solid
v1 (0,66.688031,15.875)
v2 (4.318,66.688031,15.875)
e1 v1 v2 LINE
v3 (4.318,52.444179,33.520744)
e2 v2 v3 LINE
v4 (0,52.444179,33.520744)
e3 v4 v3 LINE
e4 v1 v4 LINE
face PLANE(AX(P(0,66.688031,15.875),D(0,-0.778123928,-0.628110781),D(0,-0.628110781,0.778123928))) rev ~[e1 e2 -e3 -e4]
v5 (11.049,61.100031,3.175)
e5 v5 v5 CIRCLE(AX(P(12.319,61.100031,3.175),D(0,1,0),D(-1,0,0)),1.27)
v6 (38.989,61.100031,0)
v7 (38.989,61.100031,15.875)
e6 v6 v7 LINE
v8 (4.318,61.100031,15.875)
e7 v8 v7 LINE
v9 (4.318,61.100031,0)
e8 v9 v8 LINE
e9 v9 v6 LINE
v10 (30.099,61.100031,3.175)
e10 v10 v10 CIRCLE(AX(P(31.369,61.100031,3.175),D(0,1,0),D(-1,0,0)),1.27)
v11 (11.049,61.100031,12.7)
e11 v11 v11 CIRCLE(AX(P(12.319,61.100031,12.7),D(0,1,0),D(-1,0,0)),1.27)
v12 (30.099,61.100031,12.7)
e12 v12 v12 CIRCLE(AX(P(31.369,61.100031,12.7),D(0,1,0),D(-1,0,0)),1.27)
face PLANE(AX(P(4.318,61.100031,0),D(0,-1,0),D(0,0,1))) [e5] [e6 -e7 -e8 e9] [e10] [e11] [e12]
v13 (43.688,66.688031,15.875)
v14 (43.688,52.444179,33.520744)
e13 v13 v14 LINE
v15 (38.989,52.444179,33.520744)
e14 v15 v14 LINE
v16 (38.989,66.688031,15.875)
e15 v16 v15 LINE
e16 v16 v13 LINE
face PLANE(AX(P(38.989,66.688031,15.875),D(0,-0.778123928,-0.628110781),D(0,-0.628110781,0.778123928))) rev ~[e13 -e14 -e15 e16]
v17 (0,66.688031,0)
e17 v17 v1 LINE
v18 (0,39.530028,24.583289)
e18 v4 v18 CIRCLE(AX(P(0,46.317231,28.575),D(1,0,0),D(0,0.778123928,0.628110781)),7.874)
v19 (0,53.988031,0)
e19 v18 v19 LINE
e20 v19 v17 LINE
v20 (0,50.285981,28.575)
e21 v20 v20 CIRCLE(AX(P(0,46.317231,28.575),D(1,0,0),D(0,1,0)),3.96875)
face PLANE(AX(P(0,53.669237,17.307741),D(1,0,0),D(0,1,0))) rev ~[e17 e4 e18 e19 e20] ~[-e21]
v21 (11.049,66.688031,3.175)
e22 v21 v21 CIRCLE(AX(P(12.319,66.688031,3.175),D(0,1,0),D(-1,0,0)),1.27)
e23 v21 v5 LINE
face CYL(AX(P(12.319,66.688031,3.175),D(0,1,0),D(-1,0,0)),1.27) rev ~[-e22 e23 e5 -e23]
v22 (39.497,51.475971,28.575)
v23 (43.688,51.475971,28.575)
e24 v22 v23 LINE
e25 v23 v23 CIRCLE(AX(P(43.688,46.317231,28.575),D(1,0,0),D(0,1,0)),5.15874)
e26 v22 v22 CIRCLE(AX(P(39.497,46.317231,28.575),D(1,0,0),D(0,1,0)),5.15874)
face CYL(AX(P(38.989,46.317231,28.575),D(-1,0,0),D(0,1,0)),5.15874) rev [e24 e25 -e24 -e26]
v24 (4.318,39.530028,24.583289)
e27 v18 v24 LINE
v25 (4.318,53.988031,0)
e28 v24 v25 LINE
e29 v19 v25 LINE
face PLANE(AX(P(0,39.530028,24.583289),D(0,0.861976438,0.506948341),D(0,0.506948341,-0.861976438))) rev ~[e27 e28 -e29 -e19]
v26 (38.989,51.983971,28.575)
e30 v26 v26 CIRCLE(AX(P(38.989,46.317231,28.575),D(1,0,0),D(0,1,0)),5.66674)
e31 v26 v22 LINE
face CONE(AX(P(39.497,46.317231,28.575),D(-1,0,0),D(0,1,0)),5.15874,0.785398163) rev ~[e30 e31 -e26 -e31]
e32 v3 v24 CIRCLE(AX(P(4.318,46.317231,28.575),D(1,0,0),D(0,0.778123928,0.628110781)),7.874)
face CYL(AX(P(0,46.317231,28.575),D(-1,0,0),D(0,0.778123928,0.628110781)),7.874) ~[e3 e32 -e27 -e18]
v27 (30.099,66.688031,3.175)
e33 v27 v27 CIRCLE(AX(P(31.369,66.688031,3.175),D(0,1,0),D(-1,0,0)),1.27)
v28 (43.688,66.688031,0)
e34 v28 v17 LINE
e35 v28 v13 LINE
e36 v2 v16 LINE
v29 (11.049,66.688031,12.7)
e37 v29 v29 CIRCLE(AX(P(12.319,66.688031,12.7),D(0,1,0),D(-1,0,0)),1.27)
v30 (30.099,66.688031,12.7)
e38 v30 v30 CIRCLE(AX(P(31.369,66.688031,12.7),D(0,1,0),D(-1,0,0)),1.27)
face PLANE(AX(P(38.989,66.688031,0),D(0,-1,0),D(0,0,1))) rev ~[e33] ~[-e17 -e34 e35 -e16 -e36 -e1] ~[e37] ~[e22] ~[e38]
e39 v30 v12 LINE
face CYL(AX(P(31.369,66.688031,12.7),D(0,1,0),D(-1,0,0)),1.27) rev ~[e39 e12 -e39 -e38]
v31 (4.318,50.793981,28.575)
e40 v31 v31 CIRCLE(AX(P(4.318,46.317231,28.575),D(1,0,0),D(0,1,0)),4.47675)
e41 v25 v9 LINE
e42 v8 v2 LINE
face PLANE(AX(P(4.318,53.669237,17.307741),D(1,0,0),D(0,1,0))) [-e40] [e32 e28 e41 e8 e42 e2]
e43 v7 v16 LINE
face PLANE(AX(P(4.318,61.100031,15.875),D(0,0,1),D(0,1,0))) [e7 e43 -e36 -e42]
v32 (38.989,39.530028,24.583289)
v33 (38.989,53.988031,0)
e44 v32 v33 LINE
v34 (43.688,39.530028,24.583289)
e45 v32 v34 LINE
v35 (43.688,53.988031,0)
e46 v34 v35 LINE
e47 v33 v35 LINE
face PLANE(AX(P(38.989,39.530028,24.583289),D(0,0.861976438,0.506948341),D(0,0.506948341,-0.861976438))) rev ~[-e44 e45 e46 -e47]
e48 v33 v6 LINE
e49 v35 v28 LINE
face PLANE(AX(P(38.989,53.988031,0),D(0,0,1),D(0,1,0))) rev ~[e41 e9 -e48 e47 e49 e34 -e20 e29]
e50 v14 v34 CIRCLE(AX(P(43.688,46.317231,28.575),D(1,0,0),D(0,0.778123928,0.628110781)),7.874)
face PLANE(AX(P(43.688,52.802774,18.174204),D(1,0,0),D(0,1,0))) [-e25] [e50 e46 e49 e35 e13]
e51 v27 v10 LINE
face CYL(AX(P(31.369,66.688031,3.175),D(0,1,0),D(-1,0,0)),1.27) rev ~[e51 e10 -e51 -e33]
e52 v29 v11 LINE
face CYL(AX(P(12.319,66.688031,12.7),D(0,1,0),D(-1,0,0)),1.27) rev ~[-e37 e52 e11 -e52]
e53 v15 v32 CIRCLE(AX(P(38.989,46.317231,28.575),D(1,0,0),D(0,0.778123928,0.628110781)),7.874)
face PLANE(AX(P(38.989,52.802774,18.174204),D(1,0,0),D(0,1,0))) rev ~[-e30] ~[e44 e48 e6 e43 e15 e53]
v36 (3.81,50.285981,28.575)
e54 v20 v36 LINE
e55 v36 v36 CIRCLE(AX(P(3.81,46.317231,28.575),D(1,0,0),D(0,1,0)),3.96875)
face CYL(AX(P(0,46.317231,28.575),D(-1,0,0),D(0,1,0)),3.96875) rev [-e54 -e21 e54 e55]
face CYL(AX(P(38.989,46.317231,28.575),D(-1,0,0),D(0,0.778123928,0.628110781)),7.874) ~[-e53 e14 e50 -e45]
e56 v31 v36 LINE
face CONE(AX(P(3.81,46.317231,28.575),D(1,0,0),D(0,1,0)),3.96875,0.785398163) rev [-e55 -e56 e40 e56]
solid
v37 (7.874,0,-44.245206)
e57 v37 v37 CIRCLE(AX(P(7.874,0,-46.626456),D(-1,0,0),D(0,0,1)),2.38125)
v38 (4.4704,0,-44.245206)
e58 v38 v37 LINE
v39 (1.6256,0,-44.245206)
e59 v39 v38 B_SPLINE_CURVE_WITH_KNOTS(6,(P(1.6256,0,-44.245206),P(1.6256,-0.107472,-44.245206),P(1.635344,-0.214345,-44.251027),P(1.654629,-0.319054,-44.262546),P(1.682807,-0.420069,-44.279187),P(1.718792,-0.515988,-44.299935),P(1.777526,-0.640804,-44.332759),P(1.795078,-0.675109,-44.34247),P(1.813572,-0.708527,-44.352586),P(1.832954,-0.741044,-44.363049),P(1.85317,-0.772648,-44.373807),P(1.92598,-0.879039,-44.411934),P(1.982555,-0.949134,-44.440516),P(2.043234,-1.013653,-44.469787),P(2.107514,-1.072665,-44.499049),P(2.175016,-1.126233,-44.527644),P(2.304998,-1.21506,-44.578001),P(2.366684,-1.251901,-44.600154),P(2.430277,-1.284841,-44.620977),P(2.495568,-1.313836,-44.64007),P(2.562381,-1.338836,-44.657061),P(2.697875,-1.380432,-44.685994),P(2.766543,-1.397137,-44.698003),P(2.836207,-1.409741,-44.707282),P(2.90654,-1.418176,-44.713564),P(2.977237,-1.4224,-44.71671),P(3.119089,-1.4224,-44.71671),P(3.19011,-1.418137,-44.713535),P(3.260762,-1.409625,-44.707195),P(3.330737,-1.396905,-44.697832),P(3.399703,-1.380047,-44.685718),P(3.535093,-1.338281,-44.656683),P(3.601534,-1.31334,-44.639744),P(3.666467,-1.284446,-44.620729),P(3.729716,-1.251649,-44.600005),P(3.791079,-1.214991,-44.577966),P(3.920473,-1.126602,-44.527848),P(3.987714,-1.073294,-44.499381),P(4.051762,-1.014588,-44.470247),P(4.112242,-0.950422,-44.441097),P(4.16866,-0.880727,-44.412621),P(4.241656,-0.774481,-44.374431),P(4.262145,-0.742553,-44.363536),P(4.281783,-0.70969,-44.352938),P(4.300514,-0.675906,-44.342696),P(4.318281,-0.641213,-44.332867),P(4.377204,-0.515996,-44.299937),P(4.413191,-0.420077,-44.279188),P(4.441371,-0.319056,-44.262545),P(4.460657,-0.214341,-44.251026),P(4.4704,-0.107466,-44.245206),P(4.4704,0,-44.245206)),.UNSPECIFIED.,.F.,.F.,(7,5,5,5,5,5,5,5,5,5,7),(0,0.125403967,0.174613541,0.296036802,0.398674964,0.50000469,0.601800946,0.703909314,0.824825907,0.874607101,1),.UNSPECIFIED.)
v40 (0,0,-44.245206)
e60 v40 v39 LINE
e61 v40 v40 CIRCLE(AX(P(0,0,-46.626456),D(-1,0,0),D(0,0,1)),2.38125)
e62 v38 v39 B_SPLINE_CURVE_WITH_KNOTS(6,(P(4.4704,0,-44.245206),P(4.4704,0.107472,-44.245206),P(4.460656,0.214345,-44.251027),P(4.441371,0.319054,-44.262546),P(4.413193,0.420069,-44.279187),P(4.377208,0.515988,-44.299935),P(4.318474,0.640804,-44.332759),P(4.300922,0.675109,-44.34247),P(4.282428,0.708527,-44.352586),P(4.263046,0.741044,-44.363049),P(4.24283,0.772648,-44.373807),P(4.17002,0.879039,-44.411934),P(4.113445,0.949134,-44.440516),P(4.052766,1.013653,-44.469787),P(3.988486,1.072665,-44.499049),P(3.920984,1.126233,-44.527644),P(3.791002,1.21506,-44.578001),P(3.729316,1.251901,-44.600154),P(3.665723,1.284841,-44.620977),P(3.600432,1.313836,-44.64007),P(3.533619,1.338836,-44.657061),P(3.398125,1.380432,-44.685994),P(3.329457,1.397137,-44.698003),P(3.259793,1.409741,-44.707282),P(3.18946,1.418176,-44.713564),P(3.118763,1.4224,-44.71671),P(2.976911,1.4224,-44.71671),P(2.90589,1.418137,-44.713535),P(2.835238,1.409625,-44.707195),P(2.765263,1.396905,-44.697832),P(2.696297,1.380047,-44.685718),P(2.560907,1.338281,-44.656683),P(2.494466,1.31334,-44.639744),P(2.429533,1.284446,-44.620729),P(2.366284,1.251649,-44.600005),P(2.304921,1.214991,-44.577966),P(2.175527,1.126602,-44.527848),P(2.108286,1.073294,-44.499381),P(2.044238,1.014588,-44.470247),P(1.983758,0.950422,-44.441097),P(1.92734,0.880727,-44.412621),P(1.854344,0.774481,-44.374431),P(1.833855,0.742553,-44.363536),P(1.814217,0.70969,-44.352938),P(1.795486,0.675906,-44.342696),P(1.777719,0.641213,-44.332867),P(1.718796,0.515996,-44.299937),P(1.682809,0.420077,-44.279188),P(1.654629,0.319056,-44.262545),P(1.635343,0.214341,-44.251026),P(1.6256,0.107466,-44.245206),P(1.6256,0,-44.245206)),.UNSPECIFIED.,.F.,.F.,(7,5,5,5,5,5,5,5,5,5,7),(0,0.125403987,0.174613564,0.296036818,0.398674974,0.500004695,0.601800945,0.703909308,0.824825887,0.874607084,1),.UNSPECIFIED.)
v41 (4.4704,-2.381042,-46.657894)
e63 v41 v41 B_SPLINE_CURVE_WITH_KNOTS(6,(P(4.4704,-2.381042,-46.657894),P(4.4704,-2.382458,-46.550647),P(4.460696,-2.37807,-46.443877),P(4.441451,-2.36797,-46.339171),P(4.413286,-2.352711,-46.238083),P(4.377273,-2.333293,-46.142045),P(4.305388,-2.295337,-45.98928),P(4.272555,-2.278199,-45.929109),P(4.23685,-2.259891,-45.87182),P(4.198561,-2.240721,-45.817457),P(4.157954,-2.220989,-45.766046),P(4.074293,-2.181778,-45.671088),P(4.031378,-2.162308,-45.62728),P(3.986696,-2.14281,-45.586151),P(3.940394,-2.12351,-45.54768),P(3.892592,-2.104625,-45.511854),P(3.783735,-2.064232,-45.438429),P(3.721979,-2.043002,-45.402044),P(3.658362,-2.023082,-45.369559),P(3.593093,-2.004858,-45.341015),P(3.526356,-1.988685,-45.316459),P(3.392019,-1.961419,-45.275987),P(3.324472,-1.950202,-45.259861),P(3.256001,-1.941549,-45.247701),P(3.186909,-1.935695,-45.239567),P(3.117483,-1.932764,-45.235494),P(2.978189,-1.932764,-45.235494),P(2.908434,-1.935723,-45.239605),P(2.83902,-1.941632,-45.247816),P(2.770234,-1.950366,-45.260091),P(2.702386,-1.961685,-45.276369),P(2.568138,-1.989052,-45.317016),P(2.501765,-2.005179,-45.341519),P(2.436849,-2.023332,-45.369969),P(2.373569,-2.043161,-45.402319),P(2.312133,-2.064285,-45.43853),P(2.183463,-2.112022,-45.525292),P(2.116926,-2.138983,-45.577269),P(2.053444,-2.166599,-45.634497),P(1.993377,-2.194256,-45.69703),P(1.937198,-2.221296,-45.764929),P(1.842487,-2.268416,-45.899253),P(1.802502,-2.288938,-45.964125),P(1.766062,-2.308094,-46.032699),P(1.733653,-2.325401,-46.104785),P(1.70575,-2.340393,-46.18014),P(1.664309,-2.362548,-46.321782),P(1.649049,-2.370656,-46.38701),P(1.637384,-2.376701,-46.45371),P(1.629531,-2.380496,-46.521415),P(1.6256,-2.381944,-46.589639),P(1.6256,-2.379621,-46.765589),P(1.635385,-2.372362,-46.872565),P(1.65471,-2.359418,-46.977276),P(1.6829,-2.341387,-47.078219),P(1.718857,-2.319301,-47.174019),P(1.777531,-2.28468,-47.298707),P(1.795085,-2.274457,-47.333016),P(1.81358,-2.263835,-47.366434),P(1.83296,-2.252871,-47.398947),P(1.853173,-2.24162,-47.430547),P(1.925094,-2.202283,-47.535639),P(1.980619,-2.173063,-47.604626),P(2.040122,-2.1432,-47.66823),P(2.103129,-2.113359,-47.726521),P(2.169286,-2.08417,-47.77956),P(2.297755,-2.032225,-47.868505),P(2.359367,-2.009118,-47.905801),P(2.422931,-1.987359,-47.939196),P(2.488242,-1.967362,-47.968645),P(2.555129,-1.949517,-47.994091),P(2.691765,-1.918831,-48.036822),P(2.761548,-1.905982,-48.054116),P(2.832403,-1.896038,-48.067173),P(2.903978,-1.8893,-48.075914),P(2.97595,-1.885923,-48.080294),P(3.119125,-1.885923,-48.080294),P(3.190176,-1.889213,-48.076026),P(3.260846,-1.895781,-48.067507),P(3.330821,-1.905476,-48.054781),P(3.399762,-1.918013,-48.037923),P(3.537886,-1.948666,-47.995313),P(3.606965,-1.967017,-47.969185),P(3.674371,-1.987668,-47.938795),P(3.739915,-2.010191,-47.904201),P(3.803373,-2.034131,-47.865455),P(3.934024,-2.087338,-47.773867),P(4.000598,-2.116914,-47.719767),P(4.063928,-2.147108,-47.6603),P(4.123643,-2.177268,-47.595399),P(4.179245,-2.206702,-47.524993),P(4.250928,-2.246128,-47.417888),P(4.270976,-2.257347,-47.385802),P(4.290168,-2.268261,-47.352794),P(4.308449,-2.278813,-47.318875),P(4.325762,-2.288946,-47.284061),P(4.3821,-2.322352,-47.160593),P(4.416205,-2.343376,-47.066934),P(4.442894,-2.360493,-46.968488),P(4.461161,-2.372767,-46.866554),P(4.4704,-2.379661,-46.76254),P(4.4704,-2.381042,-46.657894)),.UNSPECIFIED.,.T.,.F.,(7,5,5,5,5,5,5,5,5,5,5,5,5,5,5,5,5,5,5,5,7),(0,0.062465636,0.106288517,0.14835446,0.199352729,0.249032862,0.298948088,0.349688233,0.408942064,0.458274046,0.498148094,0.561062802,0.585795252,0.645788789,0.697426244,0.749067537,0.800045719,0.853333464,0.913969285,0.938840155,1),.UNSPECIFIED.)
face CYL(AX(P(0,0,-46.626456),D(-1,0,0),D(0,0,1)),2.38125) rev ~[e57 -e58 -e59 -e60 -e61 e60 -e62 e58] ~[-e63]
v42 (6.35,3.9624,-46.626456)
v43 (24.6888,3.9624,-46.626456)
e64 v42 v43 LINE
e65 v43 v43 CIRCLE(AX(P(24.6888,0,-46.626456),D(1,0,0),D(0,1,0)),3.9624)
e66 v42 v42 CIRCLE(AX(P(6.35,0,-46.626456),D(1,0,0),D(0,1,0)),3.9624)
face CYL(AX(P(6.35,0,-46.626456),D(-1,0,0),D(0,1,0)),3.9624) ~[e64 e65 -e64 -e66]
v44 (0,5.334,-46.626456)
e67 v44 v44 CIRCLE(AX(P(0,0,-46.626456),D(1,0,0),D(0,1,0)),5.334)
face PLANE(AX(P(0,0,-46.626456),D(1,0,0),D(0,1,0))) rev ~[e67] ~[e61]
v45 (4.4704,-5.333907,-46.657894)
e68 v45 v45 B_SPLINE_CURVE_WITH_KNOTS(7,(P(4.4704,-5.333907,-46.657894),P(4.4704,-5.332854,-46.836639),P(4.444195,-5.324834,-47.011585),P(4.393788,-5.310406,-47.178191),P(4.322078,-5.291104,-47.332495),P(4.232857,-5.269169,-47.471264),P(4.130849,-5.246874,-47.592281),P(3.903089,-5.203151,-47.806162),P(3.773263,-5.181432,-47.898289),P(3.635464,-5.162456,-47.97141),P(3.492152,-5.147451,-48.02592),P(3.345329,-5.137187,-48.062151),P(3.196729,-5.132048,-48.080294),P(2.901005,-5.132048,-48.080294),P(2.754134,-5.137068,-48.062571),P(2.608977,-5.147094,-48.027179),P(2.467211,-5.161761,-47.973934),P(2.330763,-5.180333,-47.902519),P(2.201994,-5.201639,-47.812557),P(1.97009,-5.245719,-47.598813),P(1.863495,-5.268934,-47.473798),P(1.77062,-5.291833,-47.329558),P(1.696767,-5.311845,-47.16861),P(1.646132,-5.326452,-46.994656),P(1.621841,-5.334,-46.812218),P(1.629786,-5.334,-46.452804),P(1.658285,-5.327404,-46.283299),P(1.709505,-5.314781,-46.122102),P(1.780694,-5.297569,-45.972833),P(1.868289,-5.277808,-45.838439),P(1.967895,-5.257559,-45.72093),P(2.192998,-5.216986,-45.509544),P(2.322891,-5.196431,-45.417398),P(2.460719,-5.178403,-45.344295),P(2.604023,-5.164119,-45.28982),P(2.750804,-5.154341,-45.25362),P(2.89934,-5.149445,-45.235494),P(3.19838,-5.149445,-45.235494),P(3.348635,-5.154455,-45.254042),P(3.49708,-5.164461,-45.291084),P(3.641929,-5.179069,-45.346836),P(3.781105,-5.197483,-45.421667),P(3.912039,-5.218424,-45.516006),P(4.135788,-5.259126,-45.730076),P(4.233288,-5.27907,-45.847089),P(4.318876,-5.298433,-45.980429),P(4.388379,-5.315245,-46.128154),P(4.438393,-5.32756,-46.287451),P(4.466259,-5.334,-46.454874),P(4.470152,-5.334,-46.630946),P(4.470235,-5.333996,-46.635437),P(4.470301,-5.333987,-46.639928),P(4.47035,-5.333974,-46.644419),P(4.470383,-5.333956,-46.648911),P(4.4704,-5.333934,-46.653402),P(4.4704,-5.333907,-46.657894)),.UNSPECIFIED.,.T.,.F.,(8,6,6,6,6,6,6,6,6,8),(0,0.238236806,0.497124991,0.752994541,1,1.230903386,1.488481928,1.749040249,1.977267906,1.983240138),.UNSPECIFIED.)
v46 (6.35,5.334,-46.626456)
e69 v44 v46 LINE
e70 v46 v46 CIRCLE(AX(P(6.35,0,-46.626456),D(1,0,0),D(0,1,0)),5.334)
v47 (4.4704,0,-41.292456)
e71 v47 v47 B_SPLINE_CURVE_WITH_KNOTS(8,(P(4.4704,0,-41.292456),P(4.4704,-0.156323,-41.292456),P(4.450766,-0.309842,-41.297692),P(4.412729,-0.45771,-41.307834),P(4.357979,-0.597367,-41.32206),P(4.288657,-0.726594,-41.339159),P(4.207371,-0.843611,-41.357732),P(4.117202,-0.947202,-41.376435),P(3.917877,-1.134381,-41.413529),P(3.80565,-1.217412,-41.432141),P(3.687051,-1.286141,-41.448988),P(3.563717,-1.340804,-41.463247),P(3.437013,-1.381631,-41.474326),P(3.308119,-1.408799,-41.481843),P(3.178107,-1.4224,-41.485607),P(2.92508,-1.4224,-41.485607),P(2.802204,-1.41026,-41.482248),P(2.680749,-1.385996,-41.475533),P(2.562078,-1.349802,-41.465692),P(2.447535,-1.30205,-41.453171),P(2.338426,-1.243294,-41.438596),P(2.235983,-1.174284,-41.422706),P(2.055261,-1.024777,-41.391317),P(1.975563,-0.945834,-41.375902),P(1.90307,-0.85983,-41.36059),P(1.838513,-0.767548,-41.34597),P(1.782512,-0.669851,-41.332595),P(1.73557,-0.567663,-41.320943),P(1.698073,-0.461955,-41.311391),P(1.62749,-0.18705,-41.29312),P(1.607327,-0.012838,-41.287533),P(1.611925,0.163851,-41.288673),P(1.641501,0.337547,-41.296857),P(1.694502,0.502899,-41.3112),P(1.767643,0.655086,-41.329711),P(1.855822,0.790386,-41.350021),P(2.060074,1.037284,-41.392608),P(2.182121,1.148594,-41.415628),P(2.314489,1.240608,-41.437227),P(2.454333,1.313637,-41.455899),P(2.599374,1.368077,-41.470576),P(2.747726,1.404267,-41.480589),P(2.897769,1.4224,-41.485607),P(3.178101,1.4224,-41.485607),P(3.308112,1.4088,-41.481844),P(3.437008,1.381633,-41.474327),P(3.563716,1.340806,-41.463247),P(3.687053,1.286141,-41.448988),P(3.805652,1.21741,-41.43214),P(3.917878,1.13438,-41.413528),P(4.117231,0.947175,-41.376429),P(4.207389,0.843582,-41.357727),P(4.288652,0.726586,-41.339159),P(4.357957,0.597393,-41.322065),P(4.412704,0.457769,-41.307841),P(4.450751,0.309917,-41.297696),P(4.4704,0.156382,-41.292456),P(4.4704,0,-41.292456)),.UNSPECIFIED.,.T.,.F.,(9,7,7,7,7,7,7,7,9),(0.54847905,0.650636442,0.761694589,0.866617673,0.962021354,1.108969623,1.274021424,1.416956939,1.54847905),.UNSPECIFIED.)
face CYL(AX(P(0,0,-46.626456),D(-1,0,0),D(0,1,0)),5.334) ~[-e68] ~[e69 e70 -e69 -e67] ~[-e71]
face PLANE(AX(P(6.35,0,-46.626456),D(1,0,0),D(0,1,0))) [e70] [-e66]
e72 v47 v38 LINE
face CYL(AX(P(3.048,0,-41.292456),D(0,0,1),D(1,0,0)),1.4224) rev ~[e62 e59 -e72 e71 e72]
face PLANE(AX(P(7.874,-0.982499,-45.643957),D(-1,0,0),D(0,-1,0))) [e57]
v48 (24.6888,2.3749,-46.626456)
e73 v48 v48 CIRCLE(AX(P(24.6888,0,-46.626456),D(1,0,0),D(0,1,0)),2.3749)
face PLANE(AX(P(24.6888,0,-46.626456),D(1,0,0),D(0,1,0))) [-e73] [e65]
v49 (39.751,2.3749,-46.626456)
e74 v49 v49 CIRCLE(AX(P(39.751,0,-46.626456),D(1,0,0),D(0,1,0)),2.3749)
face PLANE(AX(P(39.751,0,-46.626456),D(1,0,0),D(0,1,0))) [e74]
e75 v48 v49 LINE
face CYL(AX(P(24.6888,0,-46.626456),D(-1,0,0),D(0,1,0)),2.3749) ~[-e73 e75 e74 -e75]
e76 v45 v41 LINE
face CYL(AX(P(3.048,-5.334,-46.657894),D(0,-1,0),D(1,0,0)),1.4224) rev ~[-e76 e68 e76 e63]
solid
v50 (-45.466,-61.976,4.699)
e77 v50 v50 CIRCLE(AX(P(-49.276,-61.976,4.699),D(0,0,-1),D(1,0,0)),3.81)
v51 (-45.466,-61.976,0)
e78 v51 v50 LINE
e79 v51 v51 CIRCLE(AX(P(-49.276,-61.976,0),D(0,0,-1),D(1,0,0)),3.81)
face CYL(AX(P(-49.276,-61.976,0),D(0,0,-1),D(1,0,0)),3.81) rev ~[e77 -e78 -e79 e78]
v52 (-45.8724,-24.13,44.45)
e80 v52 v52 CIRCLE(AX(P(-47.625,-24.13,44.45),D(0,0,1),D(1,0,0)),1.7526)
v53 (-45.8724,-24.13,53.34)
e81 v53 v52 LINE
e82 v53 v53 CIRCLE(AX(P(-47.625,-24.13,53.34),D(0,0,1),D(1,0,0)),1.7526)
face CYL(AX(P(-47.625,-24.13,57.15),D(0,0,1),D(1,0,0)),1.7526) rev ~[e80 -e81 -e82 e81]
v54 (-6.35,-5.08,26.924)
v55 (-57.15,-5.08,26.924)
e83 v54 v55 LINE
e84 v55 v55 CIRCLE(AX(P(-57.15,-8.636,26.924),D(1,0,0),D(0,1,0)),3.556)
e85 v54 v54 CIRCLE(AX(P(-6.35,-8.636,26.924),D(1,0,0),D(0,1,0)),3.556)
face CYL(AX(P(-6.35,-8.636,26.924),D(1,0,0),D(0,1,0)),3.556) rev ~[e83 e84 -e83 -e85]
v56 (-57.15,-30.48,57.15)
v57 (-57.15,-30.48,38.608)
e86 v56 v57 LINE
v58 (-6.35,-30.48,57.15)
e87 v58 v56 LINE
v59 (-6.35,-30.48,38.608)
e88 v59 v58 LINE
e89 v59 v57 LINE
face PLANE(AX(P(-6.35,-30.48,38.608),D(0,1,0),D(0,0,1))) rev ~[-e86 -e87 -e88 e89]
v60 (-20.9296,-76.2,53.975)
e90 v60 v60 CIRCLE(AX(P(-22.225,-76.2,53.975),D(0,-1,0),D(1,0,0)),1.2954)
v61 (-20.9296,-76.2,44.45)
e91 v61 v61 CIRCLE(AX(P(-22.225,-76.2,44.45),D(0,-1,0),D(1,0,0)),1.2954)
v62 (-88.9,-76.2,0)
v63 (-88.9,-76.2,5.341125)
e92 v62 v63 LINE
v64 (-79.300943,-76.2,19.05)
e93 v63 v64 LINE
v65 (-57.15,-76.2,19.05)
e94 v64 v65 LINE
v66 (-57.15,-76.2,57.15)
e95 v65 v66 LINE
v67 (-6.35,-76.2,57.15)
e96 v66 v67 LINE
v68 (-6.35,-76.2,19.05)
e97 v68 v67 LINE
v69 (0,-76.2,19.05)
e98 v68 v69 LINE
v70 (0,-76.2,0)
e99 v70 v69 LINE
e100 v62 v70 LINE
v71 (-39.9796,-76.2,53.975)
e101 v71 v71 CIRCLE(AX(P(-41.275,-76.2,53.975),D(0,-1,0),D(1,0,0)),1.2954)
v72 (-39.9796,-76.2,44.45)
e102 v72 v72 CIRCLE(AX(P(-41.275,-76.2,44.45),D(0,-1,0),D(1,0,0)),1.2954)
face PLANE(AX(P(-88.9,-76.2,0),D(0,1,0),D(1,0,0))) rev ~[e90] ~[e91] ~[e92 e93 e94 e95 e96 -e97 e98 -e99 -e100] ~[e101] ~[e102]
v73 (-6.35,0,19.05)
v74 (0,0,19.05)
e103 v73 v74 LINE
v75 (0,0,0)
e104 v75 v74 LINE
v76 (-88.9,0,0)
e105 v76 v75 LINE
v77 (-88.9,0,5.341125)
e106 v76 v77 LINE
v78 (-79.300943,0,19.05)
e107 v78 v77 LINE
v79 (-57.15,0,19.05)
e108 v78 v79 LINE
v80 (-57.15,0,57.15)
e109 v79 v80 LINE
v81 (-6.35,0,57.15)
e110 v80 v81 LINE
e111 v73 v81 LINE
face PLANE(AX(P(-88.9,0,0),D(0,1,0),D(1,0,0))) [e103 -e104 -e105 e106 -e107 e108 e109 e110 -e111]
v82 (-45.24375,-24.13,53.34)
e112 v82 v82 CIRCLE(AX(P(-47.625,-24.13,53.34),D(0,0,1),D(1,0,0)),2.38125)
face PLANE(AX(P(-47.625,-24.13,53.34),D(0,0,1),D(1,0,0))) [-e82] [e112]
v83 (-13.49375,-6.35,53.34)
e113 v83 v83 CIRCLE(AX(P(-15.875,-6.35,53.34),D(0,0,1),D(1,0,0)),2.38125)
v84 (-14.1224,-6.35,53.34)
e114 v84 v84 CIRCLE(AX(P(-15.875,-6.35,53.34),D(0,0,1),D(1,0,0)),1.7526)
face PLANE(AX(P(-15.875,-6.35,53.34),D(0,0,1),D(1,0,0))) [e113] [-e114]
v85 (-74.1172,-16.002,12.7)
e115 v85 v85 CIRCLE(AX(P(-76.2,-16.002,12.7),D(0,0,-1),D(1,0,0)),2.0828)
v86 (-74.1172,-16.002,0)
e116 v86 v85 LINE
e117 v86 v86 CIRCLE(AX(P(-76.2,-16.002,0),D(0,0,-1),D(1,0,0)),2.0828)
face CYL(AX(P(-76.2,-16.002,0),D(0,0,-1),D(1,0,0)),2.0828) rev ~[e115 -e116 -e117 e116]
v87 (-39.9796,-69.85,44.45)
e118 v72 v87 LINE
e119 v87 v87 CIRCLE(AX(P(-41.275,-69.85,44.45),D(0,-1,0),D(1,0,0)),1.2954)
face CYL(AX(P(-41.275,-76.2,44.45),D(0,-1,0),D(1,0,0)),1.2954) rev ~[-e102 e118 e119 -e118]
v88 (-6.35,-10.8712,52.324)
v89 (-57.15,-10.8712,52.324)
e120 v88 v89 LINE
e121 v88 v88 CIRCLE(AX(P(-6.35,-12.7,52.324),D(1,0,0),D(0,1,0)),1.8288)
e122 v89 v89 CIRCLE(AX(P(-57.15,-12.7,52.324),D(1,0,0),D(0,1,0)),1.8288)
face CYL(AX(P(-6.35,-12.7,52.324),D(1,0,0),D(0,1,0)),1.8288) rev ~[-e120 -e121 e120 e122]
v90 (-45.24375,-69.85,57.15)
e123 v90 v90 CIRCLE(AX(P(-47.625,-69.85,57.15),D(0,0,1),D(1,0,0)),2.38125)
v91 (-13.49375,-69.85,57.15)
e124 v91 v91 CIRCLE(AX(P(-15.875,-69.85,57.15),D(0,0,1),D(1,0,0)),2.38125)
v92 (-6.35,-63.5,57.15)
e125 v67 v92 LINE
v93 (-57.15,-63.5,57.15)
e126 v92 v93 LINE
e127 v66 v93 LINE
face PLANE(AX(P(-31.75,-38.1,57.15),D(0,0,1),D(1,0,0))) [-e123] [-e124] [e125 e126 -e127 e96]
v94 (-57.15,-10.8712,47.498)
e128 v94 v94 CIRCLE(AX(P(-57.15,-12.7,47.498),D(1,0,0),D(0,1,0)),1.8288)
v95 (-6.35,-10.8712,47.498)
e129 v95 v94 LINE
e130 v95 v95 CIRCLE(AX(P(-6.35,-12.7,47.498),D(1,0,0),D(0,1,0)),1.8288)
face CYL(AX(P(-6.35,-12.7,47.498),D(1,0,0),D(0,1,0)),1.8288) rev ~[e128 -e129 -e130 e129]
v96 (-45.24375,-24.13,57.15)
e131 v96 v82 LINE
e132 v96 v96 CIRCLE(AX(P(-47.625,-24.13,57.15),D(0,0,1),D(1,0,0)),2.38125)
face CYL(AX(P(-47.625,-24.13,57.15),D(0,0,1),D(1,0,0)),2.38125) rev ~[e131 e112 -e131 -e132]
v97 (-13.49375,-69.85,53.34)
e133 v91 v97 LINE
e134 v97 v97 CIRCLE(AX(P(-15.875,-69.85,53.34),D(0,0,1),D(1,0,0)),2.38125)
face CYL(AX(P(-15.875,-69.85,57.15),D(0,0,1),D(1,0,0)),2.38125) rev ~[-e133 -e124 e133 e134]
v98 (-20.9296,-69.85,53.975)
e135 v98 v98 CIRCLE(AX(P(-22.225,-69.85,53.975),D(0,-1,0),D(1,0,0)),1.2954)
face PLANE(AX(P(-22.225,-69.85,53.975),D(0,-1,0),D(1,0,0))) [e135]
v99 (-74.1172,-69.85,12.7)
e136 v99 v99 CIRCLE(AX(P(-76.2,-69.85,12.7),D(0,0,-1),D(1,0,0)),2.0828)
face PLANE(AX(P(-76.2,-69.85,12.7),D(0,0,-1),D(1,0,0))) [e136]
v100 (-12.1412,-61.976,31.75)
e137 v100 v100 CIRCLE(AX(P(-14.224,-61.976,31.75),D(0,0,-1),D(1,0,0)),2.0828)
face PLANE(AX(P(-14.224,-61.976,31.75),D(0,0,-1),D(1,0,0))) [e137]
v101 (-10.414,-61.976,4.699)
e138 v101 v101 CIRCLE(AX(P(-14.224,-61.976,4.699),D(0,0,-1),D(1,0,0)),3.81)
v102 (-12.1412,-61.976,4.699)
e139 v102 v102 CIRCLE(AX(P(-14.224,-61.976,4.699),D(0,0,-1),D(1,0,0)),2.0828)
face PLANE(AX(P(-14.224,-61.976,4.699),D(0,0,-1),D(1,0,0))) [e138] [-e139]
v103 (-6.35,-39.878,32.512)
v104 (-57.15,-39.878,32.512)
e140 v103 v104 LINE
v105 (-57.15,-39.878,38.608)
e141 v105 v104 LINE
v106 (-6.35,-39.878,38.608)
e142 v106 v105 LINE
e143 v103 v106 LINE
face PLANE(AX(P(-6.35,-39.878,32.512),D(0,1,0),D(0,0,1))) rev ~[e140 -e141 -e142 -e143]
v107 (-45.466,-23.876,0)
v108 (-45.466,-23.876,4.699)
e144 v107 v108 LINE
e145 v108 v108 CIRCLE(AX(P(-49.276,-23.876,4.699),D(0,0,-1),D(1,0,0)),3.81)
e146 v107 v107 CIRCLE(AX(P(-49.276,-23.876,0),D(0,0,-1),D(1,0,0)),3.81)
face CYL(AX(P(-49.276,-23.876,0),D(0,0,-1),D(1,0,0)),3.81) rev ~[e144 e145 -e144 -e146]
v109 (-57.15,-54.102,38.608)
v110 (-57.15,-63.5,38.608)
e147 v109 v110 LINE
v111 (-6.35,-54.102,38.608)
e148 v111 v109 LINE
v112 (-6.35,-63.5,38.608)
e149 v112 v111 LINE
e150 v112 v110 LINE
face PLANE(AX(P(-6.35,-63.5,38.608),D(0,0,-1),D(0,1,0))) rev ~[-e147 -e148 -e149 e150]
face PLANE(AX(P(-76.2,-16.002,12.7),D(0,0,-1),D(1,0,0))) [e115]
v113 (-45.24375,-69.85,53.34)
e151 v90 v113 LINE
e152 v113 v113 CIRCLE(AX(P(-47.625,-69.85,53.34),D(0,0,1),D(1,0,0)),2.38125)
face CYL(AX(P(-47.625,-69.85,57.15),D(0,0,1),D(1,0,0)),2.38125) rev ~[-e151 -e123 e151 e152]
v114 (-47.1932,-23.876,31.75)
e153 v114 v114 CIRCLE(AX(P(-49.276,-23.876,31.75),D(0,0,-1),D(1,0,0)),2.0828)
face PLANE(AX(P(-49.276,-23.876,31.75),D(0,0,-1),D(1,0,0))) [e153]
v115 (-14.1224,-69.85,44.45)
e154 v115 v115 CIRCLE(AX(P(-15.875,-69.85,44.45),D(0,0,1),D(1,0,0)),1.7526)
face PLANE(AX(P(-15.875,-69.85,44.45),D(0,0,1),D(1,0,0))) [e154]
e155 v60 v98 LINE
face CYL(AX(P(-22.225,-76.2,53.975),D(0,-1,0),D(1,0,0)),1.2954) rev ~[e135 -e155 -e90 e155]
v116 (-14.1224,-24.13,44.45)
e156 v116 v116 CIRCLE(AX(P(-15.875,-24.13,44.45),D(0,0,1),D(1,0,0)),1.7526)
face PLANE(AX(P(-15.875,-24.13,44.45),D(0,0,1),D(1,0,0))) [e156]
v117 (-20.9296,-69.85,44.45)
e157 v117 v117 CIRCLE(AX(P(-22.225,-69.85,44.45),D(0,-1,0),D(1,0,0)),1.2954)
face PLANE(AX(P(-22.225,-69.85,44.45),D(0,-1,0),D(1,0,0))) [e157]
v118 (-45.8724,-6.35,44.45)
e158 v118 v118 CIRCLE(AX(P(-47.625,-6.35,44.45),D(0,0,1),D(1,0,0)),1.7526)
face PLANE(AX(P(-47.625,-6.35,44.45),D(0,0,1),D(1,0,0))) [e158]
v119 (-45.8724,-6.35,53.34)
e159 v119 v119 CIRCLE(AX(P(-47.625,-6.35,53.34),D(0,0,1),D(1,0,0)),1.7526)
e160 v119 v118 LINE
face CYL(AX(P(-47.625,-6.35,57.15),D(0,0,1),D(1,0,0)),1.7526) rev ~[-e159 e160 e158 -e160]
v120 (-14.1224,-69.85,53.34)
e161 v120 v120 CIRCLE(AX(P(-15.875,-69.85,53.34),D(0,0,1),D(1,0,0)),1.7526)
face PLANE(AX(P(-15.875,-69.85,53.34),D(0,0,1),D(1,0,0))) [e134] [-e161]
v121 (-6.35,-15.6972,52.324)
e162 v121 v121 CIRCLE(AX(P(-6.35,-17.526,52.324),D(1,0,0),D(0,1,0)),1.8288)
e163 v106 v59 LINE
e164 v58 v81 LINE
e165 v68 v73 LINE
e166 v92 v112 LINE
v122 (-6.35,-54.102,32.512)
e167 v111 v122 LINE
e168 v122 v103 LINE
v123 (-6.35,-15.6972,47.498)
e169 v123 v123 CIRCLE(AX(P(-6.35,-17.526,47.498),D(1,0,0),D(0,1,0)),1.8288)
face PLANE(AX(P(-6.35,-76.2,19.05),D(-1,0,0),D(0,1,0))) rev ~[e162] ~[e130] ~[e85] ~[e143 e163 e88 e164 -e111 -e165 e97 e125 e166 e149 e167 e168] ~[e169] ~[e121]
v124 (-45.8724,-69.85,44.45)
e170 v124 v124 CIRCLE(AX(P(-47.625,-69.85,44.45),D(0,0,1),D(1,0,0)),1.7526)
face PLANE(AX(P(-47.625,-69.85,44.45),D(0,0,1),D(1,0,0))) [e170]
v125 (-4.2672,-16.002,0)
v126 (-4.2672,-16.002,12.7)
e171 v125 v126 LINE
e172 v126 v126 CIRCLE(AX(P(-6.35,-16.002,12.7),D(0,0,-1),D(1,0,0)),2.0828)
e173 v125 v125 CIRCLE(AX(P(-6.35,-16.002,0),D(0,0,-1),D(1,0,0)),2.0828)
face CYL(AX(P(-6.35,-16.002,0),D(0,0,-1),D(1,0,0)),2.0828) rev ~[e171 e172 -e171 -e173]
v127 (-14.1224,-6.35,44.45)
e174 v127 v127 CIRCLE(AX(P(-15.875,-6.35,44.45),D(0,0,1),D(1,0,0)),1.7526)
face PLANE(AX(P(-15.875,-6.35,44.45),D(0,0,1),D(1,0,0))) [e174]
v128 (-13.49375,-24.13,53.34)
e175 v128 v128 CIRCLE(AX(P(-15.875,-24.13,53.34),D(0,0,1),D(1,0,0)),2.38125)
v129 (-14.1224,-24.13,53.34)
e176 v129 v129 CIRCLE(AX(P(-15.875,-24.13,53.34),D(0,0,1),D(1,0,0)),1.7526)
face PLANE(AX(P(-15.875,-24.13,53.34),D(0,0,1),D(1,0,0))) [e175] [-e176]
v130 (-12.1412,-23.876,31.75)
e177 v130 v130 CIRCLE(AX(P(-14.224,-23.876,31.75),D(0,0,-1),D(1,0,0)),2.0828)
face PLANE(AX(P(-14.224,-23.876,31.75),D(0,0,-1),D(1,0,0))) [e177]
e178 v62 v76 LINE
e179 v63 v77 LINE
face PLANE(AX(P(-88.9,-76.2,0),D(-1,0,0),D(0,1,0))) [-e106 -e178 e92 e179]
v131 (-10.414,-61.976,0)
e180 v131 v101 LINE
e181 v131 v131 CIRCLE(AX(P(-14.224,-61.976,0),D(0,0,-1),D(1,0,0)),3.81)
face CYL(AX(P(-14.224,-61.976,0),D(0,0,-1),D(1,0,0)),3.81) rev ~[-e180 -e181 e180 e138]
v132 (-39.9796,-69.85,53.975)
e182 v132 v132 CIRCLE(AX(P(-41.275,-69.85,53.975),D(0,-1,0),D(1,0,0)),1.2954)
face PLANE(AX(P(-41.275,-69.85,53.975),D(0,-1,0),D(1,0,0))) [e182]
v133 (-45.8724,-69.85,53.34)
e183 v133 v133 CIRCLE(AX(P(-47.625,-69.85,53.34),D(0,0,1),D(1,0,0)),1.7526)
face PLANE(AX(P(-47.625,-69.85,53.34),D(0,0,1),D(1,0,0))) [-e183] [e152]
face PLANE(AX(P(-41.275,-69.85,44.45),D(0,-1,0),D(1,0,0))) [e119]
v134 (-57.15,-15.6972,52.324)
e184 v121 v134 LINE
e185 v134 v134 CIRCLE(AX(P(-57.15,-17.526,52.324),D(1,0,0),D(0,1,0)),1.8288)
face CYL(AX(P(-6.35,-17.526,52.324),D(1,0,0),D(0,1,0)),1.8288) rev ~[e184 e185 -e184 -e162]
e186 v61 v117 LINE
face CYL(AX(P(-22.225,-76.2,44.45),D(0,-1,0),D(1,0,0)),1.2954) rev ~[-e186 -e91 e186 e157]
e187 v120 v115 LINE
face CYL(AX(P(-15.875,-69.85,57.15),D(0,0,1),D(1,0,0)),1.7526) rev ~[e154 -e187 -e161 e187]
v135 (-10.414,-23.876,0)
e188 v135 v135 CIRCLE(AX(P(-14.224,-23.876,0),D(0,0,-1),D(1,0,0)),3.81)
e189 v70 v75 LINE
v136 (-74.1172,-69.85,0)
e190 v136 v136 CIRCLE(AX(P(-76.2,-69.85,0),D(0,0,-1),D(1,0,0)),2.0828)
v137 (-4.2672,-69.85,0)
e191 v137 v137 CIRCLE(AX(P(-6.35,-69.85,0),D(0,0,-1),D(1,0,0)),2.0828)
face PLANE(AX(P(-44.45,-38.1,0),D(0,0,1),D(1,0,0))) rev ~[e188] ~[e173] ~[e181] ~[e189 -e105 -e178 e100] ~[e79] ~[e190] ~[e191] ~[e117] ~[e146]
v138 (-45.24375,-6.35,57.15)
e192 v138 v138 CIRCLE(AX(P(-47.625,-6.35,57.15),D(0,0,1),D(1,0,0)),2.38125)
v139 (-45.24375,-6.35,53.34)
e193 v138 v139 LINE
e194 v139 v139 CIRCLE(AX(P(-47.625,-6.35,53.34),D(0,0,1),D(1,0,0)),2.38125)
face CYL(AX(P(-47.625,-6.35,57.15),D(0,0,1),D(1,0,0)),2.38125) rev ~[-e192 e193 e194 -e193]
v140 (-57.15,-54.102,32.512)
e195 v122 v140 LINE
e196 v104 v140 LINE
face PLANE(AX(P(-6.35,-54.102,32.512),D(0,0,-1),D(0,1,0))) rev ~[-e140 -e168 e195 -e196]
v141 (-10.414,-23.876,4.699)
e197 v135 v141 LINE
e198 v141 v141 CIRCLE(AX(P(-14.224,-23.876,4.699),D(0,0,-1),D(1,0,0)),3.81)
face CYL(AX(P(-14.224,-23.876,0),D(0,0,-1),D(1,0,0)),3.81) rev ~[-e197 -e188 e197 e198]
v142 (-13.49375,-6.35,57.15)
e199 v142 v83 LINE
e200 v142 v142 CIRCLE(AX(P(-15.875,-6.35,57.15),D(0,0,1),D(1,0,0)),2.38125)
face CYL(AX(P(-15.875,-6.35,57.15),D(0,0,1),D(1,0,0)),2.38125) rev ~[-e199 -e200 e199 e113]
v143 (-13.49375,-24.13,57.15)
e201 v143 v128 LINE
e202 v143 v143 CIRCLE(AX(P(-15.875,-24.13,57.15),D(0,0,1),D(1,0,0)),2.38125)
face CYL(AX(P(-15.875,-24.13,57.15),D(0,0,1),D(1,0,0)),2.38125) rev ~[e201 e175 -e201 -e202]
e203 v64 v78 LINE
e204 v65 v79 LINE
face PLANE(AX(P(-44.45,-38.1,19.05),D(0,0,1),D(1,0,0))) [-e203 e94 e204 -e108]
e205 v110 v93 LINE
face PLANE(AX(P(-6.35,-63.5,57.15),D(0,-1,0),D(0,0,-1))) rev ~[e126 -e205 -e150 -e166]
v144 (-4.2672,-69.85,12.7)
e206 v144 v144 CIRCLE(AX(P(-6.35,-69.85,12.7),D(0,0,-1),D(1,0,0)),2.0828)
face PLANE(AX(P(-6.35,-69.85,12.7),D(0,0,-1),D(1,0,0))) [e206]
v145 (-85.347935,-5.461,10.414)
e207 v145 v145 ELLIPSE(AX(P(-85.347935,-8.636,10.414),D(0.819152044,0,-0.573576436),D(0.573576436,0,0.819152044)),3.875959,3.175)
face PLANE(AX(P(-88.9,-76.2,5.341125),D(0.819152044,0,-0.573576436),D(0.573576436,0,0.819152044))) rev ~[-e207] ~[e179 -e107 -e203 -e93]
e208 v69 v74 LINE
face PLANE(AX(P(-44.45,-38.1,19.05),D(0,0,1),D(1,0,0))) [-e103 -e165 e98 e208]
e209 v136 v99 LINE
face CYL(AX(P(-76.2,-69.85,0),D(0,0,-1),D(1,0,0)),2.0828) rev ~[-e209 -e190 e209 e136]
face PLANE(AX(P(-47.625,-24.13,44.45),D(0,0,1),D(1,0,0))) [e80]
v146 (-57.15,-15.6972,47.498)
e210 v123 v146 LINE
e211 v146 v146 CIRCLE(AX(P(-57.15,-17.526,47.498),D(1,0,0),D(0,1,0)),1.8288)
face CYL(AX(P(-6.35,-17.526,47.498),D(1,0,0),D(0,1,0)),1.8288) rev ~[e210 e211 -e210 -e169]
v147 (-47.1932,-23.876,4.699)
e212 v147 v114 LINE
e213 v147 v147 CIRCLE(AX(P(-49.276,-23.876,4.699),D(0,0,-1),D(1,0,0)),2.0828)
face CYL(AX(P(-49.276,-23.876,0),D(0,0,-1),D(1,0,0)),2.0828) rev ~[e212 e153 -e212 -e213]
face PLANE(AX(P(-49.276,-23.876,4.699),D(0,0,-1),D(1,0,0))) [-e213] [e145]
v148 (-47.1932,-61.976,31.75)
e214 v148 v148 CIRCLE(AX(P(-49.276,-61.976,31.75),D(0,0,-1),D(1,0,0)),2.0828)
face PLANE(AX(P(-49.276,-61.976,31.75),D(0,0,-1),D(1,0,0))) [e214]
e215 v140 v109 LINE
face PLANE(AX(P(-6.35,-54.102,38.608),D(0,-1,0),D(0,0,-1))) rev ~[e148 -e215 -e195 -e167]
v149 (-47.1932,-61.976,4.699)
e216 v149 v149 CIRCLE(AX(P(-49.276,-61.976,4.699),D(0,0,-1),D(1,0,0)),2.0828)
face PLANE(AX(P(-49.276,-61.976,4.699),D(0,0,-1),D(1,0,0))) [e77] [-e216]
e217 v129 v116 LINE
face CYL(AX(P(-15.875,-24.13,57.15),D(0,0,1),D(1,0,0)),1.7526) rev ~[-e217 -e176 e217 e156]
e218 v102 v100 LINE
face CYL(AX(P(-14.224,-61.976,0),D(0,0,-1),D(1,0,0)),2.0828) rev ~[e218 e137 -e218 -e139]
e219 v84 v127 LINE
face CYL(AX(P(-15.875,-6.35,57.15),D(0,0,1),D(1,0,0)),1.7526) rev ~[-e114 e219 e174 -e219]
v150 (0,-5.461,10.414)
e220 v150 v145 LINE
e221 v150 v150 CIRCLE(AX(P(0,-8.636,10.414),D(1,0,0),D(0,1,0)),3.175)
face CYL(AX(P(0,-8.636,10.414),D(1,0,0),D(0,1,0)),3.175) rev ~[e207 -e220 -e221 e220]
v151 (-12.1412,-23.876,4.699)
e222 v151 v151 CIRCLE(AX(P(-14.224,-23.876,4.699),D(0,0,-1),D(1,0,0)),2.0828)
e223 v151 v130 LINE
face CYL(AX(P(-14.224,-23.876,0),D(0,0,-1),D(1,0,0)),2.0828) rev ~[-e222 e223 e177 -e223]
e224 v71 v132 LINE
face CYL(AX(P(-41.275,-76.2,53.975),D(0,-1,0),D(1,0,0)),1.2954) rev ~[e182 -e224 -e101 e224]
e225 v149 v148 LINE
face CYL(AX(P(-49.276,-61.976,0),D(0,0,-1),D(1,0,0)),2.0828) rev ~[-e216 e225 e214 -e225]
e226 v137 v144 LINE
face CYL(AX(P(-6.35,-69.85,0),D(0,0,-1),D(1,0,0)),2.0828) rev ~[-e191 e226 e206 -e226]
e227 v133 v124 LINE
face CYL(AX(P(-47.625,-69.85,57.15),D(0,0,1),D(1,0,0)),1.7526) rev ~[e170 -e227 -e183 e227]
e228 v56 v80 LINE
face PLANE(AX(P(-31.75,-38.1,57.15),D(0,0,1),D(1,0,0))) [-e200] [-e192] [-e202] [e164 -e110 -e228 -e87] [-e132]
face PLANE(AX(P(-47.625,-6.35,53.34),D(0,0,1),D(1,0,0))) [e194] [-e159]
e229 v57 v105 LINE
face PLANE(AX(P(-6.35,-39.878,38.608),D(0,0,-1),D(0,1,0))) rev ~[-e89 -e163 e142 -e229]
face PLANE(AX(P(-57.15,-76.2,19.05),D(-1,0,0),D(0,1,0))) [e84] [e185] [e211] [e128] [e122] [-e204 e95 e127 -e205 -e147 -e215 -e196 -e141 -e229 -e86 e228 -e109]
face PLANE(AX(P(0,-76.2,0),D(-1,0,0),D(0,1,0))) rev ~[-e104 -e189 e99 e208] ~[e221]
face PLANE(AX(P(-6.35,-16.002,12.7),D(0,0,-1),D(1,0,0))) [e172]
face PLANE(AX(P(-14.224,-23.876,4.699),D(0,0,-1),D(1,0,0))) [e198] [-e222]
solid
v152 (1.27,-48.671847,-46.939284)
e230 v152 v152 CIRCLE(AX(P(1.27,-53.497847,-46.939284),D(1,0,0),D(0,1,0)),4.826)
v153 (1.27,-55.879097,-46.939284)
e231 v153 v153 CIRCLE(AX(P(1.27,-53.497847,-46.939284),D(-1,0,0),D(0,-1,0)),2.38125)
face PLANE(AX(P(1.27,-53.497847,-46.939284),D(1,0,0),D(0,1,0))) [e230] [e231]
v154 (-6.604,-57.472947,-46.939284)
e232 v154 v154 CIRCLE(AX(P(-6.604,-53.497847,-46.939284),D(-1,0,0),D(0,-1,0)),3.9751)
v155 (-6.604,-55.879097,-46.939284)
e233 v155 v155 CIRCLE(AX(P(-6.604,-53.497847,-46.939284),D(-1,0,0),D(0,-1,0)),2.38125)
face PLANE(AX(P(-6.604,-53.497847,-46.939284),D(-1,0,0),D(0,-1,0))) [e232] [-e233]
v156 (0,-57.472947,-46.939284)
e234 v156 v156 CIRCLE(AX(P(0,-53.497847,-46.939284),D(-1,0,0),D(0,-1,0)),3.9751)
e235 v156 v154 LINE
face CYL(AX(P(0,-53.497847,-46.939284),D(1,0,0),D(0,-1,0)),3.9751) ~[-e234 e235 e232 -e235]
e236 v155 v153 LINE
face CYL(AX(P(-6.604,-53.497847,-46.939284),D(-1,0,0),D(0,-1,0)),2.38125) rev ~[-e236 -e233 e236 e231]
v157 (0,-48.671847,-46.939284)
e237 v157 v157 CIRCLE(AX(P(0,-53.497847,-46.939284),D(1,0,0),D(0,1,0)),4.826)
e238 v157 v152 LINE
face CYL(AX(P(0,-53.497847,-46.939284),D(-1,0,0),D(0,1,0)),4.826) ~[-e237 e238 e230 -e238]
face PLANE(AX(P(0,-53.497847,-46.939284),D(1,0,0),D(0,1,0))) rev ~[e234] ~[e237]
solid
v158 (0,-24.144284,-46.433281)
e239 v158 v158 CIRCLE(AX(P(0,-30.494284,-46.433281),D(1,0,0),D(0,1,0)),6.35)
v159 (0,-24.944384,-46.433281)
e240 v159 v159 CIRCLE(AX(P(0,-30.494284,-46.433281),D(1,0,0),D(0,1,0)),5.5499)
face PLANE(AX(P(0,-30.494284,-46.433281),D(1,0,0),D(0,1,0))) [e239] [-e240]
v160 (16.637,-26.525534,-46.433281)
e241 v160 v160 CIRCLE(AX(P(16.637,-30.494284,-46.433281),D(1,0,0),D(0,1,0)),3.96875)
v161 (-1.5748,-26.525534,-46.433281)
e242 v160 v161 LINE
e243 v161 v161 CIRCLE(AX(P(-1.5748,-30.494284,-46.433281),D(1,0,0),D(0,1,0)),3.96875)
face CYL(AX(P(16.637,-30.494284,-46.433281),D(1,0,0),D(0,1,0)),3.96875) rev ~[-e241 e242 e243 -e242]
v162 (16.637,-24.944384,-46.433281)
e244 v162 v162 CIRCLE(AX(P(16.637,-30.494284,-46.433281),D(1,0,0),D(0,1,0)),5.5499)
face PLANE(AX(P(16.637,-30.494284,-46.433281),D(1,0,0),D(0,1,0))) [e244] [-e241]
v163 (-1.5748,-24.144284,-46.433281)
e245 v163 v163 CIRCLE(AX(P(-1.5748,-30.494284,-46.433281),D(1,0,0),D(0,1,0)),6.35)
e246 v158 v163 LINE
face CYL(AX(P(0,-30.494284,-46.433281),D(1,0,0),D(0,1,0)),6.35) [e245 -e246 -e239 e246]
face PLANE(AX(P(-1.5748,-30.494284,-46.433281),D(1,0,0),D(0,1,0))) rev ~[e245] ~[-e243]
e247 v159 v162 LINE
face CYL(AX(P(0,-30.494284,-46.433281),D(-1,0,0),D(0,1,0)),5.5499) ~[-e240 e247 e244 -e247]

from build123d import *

# Parameters (mm, degrees)
F0_W      = 88.9
F0_H      = 76.2
F1_DEPTH  = 19.05
F2_W      = 50.8
F2_H      = 76.2
F3_DEPTH  = 38.1
F5_DEPTH  = 82.551
F7_DEPTH  = 76.201
F8_R      = 3.175
F9_DEPTH  = 88.901
F10_R     = 3.556
F11_DEPTH = 82.551
F12_R     = 1.8288
F13_DEPTH = 82.551
F14_R     = 2.0828
F15_DEPTH = 12.7
F16_R     = 2.0828
F17_DEPTH = 31.75
F16_R_2   = 3.81
F18_DEPTH = 4.699
F19_R     = 1.2954
F20_DEPTH = 6.35
F21_R     = 1.7526
F22_DEPTH = 12.7
F21_R_2   = 2.38125
F23_DEPTH = 3.81
F24_R     = 3.96875
F25_DEPTH = 4.318
F26_W     = 5.588
F26_H     = 15.875
F27_DEPTH = 34.671
F28_R     = 5.15874
F28_W     = 5.588
F28_H     = 15.875
F29_DEPTH = 4.699
F30_R     = 1.27
F31_DEPTH = 25.4
F32_SIZE  = 0.508
F33_R     = 4.826
F34_DEPTH = 1.27
F35_R     = 3.9751
F36_DEPTH = 6.604
F37_R     = 2.38125
F38_DEPTH = 25.4
F39_R     = 6.35
F40_DEPTH = 1.5748
F41_R     = 5.5499
F42_DEPTH = 16.637
F43_R     = 3.96875
F44_DEPTH = 25.4
F45_R     = 5.334
F46_DEPTH = 6.35
F47_R     = 3.9624
F48_DEPTH = 18.3388
F49_R     = 2.3749
F50_DEPTH = 15.0622
F52_DEPTH = 7.874
F54_R     = 1.4224
F55_DEPTH = 5.08
F57_R     = 1.4224
F58_DEPTH = 5.08


with BuildPart() as f1:
    # F0 (on Top) → F1 (new body)
    with BuildSketch(Plane.XY):
        with Locations((-44.45, -38.1)):
            Rectangle(F0_W, F0_H)
    extrude(amount=F1_DEPTH)

    # F2 (on face) → F3 (join)
    with BuildSketch(Plane.XY.offset(19.05)):
        with Locations((-31.75, -38.1)):
            Rectangle(F2_W, F2_H)
    extrude(amount=F3_DEPTH)

    # F4 (on face) → F5 (cut, through all)
    with BuildSketch(Plane.YZ.offset(-6.35)):
        Polygon((-60.96, 38.608), (-54.102, 38.608), (-54.102, 35.052), (-54.102, 32.512), (-51.562, 32.512), (-42.418, 32.512), (-39.878, 32.512), (-39.878, 35.052), (-39.878, 38.608), (-33.02, 38.608), (-30.48, 38.608), (-30.48, 41.148), (-30.48, 41.402), (-30.48, 57.15), (-63.5, 57.15), (-63.5, 41.148), (-63.5, 38.608), align=None)
    extrude(amount=-F5_DEPTH, mode=Mode.SUBTRACT)

    # F6 (on face) → F7 (cut, through all)
    with BuildSketch(Plane.XZ.offset(76.2)):
        Polygon((-88.9, 19.05), (-88.9, 5.3411251865), (-79.3009425152, 19.05), align=None)
    extrude(amount=-F7_DEPTH, mode=Mode.SUBTRACT)

    # F8 (on face) → F9 (cut, through all)
    with BuildSketch(Plane.YZ):
        with Locations((-8.636, 10.414)):
            Circle(F8_R)
    extrude(amount=-F9_DEPTH, mode=Mode.SUBTRACT)

    # F10 (on face) → F11 (cut, through all)
    with BuildSketch(Plane.YZ.offset(-6.35)):
        with Locations((-8.636, 26.924)):
            Circle(F10_R)
    extrude(amount=-F11_DEPTH, mode=Mode.SUBTRACT)

    # F12 (on face) → F13 (cut, through all)
    with BuildSketch(Plane.YZ.offset(-6.35)):
        with Locations((-17.526, 47.498)):
            Circle(F12_R)
        with Locations((-12.7, 47.498)):
            Circle(F12_R)
        with Locations((-12.7, 52.324)):
            Circle(F12_R)
        with Locations((-17.526, 52.324)):
            Circle(F12_R)
    extrude(amount=-F13_DEPTH, mode=Mode.SUBTRACT)

    # F14 (on face) → F15 (cut)
    with BuildSketch(Plane(origin=(0, 0, 0), x_dir=(1, 0, 0), z_dir=(0, 0, -1))):
        with Locations((-76.2, 69.85)):
            Circle(F14_R)
        with Locations((-6.35, 69.85)):
            Circle(F14_R)
        with Locations((-76.2, 16.002)):
            Circle(F14_R)
        with Locations((-6.35, 16.002)):
            Circle(F14_R)
    extrude(amount=-F15_DEPTH, mode=Mode.SUBTRACT)

    # F16 (on face) → F17 (cut)
    with BuildSketch(Plane(origin=(0, 0, 0), x_dir=(1, 0, 0), z_dir=(0, 0, -1))):
        with Locations((-49.276, 61.976)):
            Circle(F16_R)
        with Locations((-14.224, 61.976)):
            Circle(F16_R)
        with Locations((-14.224, 23.876)):
            Circle(F16_R)
        with Locations((-49.276, 23.876)):
            Circle(F16_R)
    extrude(amount=-F17_DEPTH, mode=Mode.SUBTRACT)

    # F16 (on face) → F18 (cut)
    with BuildSketch(Plane(origin=(0, 0, 0), x_dir=(1, 0, 0), z_dir=(0, 0, -1))):
        with Locations((-49.276, 61.976)):
            Circle(F16_R_2)
        with Locations((-49.276, 61.976)):
            Circle(F16_R, mode=Mode.SUBTRACT)
        with Locations((-14.224, 61.976)):
            Circle(F16_R_2)
        with Locations((-14.224, 61.976)):
            Circle(F16_R, mode=Mode.SUBTRACT)
        with Locations((-14.224, 23.876)):
            Circle(F16_R_2)
        with Locations((-14.224, 23.876)):
            Circle(F16_R, mode=Mode.SUBTRACT)
        with Locations((-49.276, 23.876)):
            Circle(F16_R_2)
        with Locations((-49.276, 23.876)):
            Circle(F16_R, mode=Mode.SUBTRACT)
    extrude(amount=-F18_DEPTH, mode=Mode.SUBTRACT)

    # F19 (on face) → F20 (cut)
    with BuildSketch(Plane.XZ.offset(76.2)):
        with Locations((-41.275, 44.45)):
            Circle(F19_R)
        with Locations((-41.275, 53.975)):
            Circle(F19_R)
        with Locations((-22.225, 53.975)):
            Circle(F19_R)
        with Locations((-22.225, 44.45)):
            Circle(F19_R)
    extrude(amount=-F20_DEPTH, mode=Mode.SUBTRACT)

    # F21 (on face) → F22 (cut)
    with BuildSketch(Plane.XY.offset(57.15)):
        with Locations((-47.625, -6.35)):
            Circle(F21_R)
        with Locations((-15.875, -6.35)):
            Circle(F21_R)
        with Locations((-15.875, -24.13)):
            Circle(F21_R)
        with Locations((-47.625, -24.13)):
            Circle(F21_R)
        with Locations((-47.625, -69.85)):
            Circle(F21_R)
        with Locations((-15.875, -69.85)):
            Circle(F21_R)
    extrude(amount=-F22_DEPTH, mode=Mode.SUBTRACT)

    # F21 (on face) → F23 (cut)
    with BuildSketch(Plane.XY.offset(57.15)):
        with Locations((-47.625, -6.35)):
            Circle(F21_R_2)
        with Locations((-47.625, -6.35)):
            Circle(F21_R, mode=Mode.SUBTRACT)
        with Locations((-15.875, -6.35)):
            Circle(F21_R_2)
        with Locations((-15.875, -6.35)):
            Circle(F21_R, mode=Mode.SUBTRACT)
        with Locations((-15.875, -24.13)):
            Circle(F21_R_2)
        with Locations((-15.875, -24.13)):
            Circle(F21_R, mode=Mode.SUBTRACT)
        with Locations((-47.625, -24.13)):
            Circle(F21_R_2)
        with Locations((-47.625, -24.13)):
            Circle(F21_R, mode=Mode.SUBTRACT)
        with Locations((-47.625, -69.85)):
            Circle(F21_R_2)
        with Locations((-47.625, -69.85)):
            Circle(F21_R, mode=Mode.SUBTRACT)
        with Locations((-15.875, -69.85)):
            Circle(F21_R_2)
        with Locations((-15.875, -69.85)):
            Circle(F21_R, mode=Mode.SUBTRACT)
    extrude(amount=-F23_DEPTH, mode=Mode.SUBTRACT)


with BuildPart() as f25:
    # F24 (on Right) → F25 (new body)
    with BuildSketch(Plane.YZ):
        with BuildLine():
            Line((66.6880309101, 15.875), (52.4441787193, 33.520744286))
            ThreePointArc((52.4441787193, 33.520744286), (41.836325658, 35.0496709663), (39.53002844, 24.5832887591))
            Line((39.53002844, 24.5832887591), (53.9880309101, 0))
            Line((53.9880309101, 0), (66.6880309101, 0))
            Line((66.6880309101, 0), (66.6880309101, 15.875))
        make_face()
        with Locations((46.3172309101, 28.575)):
            Circle(F24_R, mode=Mode.SUBTRACT)
    extrude(amount=F25_DEPTH)

    # F26 (on face) → F27 (join)
    with BuildSketch(Plane.YZ.offset(4.318)):
        with Locations((63.8940309101, 7.9375)):
            Rectangle(F26_W, F26_H)
    extrude(amount=F27_DEPTH)

    # F28 (on face) → F29 (join)
    with BuildSketch(Plane.YZ.offset(38.989)):
        with BuildLine():
            Line((66.6880309101, 15.875), (52.4441787193, 33.520744286))
            ThreePointArc((52.4441787193, 33.520744286), (41.836325658, 35.0496709663), (39.53002844, 24.5832887591))
            Line((39.53002844, 24.5832887591), (53.9880309101, 0))
            Line((53.9880309101, 0), (61.1000309101, 0))
            Line((61.1000309101, 0), (61.1000309101, 15.875))
            Line((61.1000309101, 15.875), (66.6880309101, 15.875))
        make_face()
        with Locations((46.3172309101, 28.575)):
            Circle(F28_R, mode=Mode.SUBTRACT)
        with Locations((63.8940309101, 7.9375)):
            Rectangle(F28_W, F28_H)
    extrude(amount=F29_DEPTH)

    # F30 (on face) → F31 (cut)
    with BuildSketch(Plane(origin=(0, 66.6880309101, 0), x_dir=(-1, 0, 0), z_dir=(0, 1, 0))):
        with Locations((-31.369, 12.7)):
            Circle(F30_R)
        with Locations((-31.369, 3.175)):
            Circle(F30_R)
        with Locations((-12.319, 12.7)):
            Circle(F30_R)
        with Locations((-12.319, 3.175)):
            Circle(F30_R)
    extrude(amount=-F31_DEPTH, mode=Mode.SUBTRACT)

    # F32
    f32_edges = [f25.edges().sort_by_distance(p)[0] for p in [
        (4.318, 42.348481, 28.575),
        (38.989, 41.158491, 28.575),
    ]]
    chamfer(f32_edges, length=F32_SIZE)


with BuildPart() as f34:
    # F33 (on Right) → F34 (new body)
    with BuildSketch(Plane.YZ):
        with Locations((-53.4978471696, -46.9392836094)):
            Circle(F33_R)
    extrude(amount=F34_DEPTH)

    # F35 (on face) → F36 (join)
    with BuildSketch(Plane(origin=(0, 0, 0), x_dir=(0, -1, 0), z_dir=(-1, 0, 0))):
        with Locations((53.4978471696, -46.9392836094)):
            Circle(F35_R)
    extrude(amount=F36_DEPTH)

    # F37 (on face) → F38 (cut)
    with BuildSketch(Plane(origin=(-6.604, 0, 0), x_dir=(0, -1, 0), z_dir=(-1, 0, 0))):
        with Locations((53.4978471696, -46.9392836094)):
            Circle(F37_R)
    extrude(amount=-F38_DEPTH, mode=Mode.SUBTRACT)


with BuildPart() as f40:
    # F39 (on Right) → F40 (new body)
    with BuildSketch(Plane.YZ):
        with Locations((-30.4942838848, -46.4332811534)):
            Circle(F39_R)
    extrude(amount=-F40_DEPTH)

    # F41 (on face) → F42 (join)
    with BuildSketch(Plane.YZ):
        with Locations((-30.4942838848, -46.4332811534)):
            Circle(F41_R)
    extrude(amount=F42_DEPTH)

    # F43 (on face) → F44 (cut)
    with BuildSketch(Plane.YZ.offset(16.637)):
        with Locations((-30.4942838848, -46.4332811534)):
            Circle(F43_R)
    extrude(amount=-F44_DEPTH, mode=Mode.SUBTRACT)


with BuildPart() as f46:
    # F45 (on Right) → F46 (new body)
    with BuildSketch(Plane.YZ):
        with Locations((0, -46.6264560819)):
            Circle(F45_R)
    extrude(amount=F46_DEPTH)

    # F47 (on face) → F48 (join)
    with BuildSketch(Plane.YZ.offset(6.35)):
        with Locations((0, -46.6264560819)):
            Circle(F47_R)
    extrude(amount=F48_DEPTH)

    # F49 (on face) → F50 (join)
    with BuildSketch(Plane.YZ.offset(24.6888)):
        with Locations((0, -46.6264560819)):
            Circle(F49_R)
    extrude(amount=F50_DEPTH)

    # F51 (on face) → F52 (cut)
    with BuildSketch(Plane(origin=(0, 0, 0), x_dir=(0, -1, 0), z_dir=(-1, 0, 0))):
        with BuildLine():
            Line((0, -46.6264560819), (2.38125, -46.6264560819))
            ThreePointArc((2.38125, -46.6264560819), (1.6837980227, -44.9426580592), (0, -44.2452060819))
            Line((0, -44.2452060819), (0, -46.6264560819))
        make_face()
        with BuildLine():
            ThreePointArc((0, -44.2452060819), (-1.6837980227, -48.3102541046), (2.38125, -46.6264560819))
            Line((2.38125, -46.6264560819), (0, -46.6264560819))
            Line((0, -46.6264560819), (0, -44.2452060819))
        make_face()
    extrude(amount=-F52_DEPTH, mode=Mode.SUBTRACT)

    # F54 (on plane+point) → F55 (cut)
    with BuildSketch(Plane.XZ.offset(5.334)):
        with Locations((3.048, -46.6578938067)):
            Circle(F54_R)
    extrude(amount=-F55_DEPTH, mode=Mode.SUBTRACT)

    # F57 (on plane+point) → F58 (cut)
    with BuildSketch(Plane.XY.offset(-41.2924560819)):
        with Locations((3.048, 0)):
            Circle(F57_R)
    extrude(amount=-F58_DEPTH, mode=Mode.SUBTRACT)


solid = Compound([f1.part, f25.part, f34.part, f40.part, f46.part])
